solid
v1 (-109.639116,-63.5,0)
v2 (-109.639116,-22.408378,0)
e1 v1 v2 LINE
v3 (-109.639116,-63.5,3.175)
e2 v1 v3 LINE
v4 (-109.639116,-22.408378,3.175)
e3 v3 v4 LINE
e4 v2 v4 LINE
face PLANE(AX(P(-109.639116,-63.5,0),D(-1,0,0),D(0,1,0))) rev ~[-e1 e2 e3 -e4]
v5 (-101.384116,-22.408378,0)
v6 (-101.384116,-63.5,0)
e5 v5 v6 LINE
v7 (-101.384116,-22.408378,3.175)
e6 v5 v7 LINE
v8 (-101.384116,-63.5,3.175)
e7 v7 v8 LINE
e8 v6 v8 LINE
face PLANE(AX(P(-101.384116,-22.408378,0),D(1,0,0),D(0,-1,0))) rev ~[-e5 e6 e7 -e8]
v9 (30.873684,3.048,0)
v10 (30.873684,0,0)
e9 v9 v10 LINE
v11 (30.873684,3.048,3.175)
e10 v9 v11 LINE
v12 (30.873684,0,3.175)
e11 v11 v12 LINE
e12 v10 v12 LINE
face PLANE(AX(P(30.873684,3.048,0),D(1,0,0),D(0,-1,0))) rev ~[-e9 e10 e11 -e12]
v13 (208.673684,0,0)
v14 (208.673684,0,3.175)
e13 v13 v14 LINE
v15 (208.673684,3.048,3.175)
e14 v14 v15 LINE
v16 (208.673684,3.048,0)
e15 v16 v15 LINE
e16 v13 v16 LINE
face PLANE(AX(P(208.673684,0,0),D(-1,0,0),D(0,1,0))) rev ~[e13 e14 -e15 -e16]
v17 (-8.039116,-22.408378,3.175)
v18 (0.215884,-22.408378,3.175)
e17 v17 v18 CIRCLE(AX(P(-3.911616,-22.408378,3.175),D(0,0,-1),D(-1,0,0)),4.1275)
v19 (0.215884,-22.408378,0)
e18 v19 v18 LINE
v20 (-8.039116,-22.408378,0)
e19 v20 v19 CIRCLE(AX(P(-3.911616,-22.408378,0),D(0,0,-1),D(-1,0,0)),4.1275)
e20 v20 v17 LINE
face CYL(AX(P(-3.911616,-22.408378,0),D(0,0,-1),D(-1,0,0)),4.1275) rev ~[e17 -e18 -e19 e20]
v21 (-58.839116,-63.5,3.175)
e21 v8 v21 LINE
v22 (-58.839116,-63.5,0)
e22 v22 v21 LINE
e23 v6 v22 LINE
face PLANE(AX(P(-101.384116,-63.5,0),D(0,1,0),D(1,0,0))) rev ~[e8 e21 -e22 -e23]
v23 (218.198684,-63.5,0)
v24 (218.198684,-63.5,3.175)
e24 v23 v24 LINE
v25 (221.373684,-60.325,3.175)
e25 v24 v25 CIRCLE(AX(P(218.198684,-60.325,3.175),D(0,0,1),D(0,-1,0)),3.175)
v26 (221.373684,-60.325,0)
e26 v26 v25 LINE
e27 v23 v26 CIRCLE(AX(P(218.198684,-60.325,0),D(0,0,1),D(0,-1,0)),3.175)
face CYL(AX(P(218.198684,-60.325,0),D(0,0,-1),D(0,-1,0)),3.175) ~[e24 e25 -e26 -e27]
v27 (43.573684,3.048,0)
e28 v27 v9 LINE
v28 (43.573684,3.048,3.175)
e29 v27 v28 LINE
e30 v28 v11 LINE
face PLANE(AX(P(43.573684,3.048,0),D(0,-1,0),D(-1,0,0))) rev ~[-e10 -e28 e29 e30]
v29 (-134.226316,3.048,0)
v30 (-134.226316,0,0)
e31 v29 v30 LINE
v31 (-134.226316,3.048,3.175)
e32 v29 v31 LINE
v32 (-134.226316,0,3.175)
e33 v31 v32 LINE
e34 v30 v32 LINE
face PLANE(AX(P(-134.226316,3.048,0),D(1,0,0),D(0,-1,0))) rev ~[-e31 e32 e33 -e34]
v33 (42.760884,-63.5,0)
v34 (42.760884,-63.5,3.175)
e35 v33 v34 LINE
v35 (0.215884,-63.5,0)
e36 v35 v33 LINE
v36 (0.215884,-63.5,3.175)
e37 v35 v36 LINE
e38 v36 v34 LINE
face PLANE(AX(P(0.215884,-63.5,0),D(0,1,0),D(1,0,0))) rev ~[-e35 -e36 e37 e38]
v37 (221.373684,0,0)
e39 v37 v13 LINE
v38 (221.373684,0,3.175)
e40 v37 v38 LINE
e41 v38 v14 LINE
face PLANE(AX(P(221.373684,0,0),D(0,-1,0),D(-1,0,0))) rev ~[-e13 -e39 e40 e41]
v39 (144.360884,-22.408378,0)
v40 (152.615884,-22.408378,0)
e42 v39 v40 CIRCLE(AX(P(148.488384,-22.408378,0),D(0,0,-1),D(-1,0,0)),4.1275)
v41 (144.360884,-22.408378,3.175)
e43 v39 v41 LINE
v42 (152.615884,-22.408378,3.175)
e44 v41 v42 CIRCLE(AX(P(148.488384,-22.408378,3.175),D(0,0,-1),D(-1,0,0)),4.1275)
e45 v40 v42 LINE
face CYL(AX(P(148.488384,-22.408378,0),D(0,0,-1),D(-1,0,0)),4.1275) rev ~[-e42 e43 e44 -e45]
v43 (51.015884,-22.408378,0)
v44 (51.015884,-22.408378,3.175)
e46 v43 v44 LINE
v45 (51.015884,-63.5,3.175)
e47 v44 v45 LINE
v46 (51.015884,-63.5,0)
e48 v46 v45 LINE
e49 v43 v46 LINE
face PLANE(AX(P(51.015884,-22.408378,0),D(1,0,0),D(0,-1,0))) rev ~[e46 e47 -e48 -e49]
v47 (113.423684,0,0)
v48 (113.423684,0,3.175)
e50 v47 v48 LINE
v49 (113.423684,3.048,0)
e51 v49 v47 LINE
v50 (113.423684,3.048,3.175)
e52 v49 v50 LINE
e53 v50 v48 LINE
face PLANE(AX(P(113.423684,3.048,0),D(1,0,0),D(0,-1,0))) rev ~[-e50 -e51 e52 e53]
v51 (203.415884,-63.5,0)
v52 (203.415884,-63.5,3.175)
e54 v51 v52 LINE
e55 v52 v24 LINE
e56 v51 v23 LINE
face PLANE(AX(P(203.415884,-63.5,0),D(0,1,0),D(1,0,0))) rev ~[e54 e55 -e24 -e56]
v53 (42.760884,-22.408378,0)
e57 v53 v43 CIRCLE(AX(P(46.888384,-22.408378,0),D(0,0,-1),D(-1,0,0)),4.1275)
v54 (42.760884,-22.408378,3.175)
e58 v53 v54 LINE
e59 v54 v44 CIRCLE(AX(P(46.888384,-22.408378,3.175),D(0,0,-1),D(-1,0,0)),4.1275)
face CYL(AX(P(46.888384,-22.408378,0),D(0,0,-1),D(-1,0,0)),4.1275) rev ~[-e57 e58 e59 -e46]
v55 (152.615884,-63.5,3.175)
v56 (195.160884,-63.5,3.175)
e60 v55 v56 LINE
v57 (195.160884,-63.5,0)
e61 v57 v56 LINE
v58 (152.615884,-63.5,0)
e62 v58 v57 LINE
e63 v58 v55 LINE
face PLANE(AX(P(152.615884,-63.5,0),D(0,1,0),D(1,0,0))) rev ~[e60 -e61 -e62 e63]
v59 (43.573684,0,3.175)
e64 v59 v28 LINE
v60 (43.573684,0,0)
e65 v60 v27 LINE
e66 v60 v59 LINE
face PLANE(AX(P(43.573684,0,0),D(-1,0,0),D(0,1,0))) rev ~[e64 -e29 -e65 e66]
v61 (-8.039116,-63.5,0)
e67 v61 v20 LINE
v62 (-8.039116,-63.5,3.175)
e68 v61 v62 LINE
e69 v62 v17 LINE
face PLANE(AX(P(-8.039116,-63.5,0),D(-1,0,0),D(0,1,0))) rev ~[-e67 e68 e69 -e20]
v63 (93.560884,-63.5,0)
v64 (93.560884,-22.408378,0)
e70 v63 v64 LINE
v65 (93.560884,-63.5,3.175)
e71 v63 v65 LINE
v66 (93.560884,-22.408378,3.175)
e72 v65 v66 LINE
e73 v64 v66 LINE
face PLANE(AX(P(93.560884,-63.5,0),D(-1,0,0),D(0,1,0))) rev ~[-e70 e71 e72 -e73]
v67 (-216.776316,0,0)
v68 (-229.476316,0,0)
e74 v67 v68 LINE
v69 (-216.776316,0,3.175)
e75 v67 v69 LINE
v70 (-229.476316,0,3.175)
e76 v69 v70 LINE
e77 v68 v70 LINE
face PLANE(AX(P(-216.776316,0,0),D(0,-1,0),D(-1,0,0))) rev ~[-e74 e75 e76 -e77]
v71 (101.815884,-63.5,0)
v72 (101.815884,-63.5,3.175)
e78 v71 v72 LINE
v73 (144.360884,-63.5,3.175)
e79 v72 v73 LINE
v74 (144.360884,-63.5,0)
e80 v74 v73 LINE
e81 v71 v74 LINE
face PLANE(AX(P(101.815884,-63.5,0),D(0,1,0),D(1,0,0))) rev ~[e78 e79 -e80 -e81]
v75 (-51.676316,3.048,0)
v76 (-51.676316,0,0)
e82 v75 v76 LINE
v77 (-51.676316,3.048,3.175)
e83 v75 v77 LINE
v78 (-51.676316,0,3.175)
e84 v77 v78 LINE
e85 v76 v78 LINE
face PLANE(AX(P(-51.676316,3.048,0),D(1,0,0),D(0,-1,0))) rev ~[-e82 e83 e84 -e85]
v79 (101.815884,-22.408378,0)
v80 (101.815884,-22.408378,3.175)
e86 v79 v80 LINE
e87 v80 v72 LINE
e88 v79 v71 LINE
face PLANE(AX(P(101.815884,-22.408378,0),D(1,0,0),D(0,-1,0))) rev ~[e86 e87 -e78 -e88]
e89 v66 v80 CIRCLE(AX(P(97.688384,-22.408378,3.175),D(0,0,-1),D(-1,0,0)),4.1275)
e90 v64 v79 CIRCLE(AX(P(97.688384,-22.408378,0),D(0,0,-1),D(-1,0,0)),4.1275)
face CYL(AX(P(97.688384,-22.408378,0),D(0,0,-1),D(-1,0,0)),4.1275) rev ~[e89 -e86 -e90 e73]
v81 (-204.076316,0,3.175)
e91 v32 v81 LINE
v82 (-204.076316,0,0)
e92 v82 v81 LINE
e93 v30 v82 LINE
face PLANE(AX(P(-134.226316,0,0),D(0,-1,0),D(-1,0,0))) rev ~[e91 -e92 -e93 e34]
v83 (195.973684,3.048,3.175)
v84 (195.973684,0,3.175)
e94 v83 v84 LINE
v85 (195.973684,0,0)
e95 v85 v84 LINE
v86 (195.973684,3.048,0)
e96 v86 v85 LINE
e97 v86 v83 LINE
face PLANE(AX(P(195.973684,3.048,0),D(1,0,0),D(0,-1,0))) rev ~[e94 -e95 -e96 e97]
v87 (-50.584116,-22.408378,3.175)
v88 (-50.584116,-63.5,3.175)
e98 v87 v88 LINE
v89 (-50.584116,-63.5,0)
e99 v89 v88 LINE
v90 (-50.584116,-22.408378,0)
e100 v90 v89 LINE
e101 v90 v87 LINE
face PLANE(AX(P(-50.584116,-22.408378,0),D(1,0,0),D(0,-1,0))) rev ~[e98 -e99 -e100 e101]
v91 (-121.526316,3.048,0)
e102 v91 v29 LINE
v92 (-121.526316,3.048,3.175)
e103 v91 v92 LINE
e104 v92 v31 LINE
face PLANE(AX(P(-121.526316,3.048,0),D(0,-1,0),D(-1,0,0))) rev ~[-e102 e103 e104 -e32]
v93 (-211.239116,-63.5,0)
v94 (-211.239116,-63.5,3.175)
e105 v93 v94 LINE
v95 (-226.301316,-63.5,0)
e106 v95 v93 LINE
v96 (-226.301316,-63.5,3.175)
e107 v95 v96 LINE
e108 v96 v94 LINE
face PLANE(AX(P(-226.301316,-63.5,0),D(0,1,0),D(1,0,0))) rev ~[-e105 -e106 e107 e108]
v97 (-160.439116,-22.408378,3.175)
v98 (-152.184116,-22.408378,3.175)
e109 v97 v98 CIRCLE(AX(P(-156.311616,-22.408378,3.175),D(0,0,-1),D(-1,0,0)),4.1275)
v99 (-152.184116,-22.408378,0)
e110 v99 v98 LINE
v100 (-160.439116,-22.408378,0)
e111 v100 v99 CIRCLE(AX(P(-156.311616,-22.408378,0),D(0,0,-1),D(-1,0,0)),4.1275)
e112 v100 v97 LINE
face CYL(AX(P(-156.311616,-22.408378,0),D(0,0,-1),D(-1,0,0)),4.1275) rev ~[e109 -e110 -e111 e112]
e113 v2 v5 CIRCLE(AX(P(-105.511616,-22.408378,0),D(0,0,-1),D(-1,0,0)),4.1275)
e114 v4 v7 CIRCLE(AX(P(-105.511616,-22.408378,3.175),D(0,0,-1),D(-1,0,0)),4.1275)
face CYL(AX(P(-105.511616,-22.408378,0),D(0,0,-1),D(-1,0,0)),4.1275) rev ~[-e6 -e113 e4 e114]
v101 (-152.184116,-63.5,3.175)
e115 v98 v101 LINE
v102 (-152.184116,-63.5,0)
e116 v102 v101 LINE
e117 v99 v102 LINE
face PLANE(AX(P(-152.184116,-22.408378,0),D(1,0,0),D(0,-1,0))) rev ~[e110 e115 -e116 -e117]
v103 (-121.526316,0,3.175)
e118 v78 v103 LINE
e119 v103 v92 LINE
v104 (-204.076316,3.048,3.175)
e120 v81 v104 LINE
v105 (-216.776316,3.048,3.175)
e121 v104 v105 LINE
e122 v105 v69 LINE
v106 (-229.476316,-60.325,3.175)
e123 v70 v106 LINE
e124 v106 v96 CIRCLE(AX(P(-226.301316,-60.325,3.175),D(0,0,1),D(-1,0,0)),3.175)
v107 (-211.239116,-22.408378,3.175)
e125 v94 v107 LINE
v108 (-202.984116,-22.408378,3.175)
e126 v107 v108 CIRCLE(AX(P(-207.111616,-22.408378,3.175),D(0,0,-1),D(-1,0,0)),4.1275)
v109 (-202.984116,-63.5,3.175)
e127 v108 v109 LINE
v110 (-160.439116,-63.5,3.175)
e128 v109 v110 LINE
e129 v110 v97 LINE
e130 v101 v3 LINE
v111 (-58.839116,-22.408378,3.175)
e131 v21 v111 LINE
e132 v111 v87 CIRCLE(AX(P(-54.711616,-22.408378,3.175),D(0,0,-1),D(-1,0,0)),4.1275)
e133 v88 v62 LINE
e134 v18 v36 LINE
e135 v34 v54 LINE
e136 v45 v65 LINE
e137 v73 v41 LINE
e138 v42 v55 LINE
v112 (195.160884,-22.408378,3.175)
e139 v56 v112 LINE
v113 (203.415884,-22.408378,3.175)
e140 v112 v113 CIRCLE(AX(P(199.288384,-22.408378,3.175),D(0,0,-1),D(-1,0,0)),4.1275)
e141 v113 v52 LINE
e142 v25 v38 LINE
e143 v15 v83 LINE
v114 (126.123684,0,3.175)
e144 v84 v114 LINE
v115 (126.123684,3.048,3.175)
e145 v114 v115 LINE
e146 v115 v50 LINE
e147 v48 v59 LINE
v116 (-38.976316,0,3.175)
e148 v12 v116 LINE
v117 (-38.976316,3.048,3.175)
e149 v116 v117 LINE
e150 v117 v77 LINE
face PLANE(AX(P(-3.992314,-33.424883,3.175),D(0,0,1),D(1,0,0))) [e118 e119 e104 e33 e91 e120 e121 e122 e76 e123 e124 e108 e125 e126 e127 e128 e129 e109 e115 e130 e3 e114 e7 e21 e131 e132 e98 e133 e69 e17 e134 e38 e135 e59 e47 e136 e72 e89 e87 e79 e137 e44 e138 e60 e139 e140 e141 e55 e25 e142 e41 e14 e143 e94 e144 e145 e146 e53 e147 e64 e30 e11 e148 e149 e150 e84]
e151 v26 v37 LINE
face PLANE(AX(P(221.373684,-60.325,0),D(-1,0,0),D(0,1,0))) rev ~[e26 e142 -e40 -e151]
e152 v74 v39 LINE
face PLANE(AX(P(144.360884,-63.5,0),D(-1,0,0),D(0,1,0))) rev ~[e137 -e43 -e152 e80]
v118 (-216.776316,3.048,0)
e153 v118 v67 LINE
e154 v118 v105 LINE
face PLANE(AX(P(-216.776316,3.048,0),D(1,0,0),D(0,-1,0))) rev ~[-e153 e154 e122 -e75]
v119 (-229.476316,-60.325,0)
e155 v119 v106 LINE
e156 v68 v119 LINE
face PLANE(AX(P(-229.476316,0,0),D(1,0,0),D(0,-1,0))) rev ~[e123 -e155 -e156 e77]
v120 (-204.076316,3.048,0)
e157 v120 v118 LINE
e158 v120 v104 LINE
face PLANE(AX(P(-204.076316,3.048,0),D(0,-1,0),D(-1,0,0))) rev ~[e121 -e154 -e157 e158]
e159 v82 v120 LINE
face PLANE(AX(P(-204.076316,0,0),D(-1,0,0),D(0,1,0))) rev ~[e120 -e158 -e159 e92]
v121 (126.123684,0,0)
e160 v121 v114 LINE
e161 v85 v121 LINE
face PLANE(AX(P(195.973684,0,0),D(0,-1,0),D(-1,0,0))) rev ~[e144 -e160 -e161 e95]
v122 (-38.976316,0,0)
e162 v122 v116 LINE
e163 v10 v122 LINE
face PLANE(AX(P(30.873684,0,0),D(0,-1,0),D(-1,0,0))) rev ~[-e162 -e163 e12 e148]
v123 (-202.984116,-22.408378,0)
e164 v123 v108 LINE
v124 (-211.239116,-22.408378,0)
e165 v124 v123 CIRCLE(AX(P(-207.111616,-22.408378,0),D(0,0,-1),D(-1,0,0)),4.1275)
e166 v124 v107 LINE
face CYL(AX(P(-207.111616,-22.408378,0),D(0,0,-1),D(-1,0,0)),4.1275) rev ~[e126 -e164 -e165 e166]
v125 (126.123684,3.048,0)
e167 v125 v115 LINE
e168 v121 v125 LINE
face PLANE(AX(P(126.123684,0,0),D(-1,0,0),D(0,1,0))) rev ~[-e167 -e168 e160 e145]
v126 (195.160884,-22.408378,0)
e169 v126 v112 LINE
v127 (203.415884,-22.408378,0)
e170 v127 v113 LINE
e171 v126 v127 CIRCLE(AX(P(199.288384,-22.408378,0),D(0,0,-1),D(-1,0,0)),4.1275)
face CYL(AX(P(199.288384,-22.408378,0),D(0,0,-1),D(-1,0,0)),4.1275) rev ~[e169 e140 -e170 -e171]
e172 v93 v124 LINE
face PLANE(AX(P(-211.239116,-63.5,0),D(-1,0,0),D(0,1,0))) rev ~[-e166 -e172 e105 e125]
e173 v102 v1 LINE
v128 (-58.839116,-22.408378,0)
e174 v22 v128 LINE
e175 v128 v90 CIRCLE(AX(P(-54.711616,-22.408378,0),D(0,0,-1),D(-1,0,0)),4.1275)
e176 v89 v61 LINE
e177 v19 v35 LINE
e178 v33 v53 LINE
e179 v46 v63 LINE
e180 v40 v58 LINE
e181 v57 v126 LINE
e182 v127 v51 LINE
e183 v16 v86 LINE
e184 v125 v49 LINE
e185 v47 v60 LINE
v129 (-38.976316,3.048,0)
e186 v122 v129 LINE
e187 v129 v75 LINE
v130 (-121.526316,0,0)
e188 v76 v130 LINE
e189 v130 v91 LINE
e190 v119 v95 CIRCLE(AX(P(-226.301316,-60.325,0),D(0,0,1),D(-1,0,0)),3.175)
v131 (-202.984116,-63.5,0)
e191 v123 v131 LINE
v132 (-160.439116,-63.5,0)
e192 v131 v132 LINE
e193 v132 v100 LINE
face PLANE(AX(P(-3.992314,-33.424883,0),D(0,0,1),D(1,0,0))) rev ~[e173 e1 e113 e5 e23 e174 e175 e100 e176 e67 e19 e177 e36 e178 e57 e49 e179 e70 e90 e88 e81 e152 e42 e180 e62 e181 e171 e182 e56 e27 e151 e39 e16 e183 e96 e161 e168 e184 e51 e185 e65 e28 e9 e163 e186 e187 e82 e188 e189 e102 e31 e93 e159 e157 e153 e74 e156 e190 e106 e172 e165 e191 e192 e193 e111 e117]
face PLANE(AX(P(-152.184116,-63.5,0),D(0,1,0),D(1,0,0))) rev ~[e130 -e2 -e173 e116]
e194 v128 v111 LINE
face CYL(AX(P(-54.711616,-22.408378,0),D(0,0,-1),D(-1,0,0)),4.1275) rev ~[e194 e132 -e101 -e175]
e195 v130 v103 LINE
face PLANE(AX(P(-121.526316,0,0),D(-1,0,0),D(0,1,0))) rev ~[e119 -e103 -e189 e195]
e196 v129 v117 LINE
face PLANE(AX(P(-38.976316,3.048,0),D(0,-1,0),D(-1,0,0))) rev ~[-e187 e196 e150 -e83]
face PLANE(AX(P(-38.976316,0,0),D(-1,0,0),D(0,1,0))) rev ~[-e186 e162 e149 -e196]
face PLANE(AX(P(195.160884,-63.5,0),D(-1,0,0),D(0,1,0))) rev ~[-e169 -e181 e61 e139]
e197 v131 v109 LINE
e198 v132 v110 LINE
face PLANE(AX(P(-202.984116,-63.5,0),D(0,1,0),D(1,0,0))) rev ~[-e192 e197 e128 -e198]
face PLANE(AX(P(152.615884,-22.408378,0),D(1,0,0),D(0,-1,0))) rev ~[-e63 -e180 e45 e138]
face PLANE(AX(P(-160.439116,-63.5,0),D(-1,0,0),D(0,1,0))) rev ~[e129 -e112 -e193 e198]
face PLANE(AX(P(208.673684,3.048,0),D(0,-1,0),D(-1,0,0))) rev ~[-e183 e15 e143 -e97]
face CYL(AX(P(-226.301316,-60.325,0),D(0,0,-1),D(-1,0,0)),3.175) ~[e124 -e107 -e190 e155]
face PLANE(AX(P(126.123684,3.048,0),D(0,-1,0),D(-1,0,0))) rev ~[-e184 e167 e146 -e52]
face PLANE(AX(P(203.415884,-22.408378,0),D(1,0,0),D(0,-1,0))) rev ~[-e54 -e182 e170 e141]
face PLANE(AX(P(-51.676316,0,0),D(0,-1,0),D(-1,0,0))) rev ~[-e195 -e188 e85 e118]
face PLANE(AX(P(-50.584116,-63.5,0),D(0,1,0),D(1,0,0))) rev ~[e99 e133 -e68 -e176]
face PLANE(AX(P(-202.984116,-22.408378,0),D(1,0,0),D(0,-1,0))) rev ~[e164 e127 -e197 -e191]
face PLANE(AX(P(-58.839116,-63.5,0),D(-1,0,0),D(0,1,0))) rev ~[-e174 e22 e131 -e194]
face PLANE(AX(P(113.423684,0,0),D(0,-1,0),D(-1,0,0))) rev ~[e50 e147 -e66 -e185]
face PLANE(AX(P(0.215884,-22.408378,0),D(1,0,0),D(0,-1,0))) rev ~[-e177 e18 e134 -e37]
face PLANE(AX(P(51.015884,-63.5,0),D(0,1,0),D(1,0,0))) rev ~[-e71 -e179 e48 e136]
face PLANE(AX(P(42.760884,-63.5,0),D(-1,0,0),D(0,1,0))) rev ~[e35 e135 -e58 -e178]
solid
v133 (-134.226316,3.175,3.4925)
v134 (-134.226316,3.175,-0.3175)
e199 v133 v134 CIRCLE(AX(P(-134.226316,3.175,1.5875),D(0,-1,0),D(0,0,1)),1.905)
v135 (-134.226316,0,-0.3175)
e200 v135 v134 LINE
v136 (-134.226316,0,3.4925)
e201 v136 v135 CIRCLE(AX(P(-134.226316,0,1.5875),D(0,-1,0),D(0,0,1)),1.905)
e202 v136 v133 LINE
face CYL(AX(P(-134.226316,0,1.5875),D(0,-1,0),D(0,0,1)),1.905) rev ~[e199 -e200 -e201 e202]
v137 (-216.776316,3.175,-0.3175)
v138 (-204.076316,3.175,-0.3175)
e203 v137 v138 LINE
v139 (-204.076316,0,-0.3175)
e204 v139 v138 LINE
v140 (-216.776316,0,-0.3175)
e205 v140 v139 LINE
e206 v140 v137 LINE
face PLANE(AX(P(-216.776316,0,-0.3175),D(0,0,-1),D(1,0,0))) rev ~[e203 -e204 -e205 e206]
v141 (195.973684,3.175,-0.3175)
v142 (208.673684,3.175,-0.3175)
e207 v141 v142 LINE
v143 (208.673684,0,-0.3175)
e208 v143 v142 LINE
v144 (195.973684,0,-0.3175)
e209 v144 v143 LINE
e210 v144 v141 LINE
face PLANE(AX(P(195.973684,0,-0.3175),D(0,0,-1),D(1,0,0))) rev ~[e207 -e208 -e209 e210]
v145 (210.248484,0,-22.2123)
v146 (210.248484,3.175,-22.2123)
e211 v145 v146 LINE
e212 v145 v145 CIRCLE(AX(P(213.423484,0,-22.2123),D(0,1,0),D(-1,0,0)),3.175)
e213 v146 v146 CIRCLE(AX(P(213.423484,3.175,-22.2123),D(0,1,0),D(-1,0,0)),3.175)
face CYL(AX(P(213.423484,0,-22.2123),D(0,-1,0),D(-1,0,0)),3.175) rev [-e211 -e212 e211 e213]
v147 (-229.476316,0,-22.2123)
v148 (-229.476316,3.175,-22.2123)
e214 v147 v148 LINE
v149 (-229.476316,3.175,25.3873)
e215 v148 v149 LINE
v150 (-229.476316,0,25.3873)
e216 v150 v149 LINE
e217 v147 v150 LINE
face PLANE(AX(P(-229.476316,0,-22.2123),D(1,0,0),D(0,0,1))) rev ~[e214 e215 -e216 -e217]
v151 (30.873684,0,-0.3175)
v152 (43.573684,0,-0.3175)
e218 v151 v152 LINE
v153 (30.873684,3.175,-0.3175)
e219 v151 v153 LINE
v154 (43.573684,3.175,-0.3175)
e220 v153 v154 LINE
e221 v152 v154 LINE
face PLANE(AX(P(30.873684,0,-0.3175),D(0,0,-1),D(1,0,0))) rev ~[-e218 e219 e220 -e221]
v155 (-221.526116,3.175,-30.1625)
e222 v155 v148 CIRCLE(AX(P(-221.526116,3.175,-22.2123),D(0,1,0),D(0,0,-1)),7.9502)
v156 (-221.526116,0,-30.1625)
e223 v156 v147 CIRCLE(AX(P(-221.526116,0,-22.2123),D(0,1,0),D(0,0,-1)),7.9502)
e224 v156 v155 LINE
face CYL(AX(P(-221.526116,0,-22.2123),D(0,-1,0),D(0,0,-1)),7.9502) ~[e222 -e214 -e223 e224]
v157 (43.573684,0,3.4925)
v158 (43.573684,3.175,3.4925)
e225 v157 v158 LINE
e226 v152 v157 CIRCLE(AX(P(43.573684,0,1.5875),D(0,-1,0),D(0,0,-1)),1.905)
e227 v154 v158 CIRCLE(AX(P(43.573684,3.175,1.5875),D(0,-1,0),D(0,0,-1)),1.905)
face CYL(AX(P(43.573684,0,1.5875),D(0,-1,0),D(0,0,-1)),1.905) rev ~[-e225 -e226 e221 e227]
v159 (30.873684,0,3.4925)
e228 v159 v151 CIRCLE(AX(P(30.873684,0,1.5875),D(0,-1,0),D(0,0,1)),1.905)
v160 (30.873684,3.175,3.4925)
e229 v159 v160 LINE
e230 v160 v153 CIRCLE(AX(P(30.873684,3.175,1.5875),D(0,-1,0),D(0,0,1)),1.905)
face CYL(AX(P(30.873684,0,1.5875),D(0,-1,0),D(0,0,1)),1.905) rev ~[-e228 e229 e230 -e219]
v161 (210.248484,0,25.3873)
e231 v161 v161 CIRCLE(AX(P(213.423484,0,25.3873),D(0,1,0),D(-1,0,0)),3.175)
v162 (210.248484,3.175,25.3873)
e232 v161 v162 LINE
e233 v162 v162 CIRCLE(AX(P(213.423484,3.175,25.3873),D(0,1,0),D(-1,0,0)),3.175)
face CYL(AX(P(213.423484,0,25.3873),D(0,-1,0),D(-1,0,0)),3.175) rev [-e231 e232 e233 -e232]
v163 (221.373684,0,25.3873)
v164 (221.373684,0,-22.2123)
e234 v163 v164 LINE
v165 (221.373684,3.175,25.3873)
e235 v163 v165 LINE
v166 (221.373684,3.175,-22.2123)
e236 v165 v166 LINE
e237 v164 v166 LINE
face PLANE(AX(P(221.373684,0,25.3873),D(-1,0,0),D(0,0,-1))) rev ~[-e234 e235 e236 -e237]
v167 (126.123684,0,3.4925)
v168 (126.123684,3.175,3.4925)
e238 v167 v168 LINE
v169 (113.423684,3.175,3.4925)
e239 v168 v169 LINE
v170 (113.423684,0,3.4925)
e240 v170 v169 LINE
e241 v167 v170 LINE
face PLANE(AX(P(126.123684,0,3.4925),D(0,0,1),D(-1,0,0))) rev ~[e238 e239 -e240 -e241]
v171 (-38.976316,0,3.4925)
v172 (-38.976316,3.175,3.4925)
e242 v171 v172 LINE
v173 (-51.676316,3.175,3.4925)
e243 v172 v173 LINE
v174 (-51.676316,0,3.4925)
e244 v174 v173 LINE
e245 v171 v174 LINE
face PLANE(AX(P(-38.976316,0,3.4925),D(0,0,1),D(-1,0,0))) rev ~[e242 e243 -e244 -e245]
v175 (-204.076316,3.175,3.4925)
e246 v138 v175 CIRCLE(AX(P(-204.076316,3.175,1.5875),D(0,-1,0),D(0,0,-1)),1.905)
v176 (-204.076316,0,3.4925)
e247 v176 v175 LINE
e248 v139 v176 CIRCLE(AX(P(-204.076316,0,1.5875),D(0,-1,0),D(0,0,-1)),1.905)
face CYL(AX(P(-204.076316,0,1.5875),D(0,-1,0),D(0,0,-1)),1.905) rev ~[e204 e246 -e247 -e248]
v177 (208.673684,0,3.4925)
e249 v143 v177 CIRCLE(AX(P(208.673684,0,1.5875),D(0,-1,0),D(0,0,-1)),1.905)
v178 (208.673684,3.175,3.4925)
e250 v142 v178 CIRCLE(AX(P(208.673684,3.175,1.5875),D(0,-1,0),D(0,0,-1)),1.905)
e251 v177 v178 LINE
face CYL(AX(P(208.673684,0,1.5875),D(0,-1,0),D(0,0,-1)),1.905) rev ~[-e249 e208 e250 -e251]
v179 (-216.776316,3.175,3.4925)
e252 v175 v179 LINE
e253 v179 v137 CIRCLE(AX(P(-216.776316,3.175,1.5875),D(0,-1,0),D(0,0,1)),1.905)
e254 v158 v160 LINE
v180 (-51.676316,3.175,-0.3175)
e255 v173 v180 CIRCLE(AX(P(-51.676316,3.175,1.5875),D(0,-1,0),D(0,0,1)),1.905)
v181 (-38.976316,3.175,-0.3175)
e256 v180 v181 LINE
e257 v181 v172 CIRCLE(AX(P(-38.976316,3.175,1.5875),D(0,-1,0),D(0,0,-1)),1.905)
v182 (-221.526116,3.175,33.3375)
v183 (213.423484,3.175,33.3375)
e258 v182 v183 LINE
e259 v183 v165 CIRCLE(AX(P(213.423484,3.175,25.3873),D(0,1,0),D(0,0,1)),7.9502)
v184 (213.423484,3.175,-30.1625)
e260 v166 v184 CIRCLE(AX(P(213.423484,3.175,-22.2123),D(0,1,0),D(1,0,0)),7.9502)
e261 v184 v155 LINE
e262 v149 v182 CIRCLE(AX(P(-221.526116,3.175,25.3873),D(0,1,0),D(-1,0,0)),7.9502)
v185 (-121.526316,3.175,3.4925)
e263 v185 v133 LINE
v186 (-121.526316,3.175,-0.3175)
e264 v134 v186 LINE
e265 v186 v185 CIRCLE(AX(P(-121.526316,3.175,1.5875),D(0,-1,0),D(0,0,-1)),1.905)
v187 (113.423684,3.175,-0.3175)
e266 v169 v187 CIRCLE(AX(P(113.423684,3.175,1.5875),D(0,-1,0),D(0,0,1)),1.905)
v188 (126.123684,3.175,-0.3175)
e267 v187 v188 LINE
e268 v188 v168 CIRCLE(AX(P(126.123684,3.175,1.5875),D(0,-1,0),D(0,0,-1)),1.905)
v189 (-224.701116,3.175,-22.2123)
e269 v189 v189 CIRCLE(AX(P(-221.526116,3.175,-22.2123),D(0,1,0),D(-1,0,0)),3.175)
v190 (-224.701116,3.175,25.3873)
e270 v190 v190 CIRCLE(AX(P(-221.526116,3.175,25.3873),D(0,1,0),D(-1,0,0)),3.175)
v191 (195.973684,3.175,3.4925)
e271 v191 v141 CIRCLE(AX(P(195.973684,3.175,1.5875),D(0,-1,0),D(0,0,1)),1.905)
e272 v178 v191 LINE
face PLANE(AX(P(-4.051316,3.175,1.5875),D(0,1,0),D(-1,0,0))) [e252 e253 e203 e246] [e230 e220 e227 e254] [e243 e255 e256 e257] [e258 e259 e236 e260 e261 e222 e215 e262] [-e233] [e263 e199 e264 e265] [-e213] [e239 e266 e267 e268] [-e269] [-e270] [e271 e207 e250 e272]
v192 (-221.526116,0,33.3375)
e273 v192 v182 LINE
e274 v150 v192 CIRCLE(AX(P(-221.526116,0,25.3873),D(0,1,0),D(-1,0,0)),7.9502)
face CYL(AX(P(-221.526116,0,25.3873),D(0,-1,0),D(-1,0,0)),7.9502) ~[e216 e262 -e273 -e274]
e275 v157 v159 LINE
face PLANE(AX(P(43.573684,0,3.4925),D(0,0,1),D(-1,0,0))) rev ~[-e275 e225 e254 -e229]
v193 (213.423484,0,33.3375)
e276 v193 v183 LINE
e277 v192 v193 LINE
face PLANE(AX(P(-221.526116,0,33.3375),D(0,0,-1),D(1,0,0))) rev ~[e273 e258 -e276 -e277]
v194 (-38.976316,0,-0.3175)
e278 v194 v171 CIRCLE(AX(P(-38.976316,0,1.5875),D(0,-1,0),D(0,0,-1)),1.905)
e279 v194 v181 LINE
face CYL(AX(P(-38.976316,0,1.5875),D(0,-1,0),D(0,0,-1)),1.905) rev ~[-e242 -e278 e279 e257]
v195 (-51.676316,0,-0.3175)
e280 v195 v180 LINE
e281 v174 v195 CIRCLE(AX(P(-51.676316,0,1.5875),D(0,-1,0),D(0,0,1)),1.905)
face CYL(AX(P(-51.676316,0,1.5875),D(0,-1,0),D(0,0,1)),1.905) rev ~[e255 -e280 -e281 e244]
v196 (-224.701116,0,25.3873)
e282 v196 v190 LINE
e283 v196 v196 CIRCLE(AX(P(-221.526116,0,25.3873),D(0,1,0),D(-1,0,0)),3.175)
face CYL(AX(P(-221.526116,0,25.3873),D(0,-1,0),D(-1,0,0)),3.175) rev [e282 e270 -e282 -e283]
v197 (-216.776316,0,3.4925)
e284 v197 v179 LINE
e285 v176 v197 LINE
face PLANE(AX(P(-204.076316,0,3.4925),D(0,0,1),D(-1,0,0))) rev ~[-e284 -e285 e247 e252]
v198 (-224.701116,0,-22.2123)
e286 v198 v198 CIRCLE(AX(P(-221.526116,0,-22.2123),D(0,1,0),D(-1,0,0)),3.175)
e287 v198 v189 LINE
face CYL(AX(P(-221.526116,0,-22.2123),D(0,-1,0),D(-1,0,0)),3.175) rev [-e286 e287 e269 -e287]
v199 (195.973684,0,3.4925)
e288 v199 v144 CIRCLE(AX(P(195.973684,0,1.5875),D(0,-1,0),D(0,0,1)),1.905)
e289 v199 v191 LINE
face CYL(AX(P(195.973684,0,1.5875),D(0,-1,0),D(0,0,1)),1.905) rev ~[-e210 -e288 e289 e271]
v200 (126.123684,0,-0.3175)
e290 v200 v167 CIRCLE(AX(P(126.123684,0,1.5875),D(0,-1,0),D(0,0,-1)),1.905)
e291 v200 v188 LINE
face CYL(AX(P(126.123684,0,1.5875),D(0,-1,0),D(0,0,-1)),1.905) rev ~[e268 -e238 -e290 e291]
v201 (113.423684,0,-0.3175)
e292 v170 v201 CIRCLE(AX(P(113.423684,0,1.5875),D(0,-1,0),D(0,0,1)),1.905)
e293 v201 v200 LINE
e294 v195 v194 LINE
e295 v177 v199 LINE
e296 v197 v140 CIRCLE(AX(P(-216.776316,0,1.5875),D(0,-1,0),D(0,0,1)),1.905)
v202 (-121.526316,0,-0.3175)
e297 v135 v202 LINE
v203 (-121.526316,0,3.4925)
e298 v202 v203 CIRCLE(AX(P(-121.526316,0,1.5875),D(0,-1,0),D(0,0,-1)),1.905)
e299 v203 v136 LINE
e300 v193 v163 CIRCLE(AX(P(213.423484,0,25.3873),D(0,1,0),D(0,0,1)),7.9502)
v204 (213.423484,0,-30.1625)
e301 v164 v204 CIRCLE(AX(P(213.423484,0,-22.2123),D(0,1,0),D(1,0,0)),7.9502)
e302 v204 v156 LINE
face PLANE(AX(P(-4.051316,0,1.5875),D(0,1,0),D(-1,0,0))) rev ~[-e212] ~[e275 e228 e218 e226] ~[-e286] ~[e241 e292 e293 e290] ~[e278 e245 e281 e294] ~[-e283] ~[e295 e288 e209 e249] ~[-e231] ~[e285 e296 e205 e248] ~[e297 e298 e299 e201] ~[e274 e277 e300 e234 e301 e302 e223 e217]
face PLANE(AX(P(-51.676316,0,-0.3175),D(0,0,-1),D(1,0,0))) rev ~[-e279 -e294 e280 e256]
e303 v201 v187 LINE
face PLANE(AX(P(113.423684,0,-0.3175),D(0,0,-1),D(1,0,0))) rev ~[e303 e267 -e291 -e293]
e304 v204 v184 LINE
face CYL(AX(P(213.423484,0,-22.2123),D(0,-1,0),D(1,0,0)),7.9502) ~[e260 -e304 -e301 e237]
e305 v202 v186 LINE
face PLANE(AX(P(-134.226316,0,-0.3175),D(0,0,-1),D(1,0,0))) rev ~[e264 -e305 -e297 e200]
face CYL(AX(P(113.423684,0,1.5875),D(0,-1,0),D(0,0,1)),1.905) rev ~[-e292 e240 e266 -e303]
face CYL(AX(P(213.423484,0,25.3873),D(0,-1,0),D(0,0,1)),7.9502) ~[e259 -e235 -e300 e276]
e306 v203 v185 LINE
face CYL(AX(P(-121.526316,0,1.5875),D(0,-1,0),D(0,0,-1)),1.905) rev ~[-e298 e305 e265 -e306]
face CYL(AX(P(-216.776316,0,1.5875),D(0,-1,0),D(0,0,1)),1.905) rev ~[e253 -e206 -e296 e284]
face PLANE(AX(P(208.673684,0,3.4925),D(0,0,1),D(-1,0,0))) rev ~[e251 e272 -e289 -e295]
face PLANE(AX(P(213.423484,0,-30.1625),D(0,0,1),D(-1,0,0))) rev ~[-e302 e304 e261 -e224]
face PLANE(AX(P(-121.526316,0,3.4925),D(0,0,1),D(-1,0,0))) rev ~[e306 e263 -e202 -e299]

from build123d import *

# Parameters (mm, degrees)
F1_DEPTH = 3.175
F2_R     = 3.175
F3_DEPTH = 3.175


with BuildPart() as f1:
    # F0 (on Top) → F1 (new body)
    with BuildSketch(Plane.XY):
        with BuildLine():
            Line((-216.7763156652, 0), (-229.4763156652, 0))
            Line((-229.4763156652, 0), (-229.4763156652, -60.325))
            ThreePointArc((-229.4763156652, -60.325), (-228.5463796955, -62.5700640303), (-226.3013156652, -63.5))
            Line((-226.3013156652, -63.5), (-211.2391156652, -63.5))
            Line((-211.2391156652, -63.5), (-211.2391156652, -22.4083778501))
            ThreePointArc((-211.2391156652, -22.4083778501), (-207.1116156652, -18.2808778501), (-202.9841156652, -22.4083778501))
            Line((-202.9841156652, -22.4083778501), (-202.9841156652, -63.5))
            Line((-202.9841156652, -63.5), (-160.4391156652, -63.5))
            Line((-160.4391156652, -63.5), (-160.4391156652, -22.4083778501))
            ThreePointArc((-160.4391156652, -22.4083778501), (-156.3116156652, -18.2808778501), (-152.1841156652, -22.4083778501))
            Line((-152.1841156652, -22.4083778501), (-152.1841156652, -63.5))
            Line((-152.1841156652, -63.5), (-109.6391156652, -63.5))
            Line((-109.6391156652, -63.5), (-109.6391156652, -22.4083778501))
            ThreePointArc((-109.6391156652, -22.4083778501), (-105.5116156652, -18.2808778501), (-101.3841156652, -22.4083778501))
            Line((-101.3841156652, -22.4083778501), (-101.3841156652, -63.5))
            Line((-101.3841156652, -63.5), (-58.8391156652, -63.5))
            Line((-58.8391156652, -63.5), (-58.8391156652, -22.4083778501))
            ThreePointArc((-58.8391156652, -22.4083778501), (-54.7116156652, -18.2808778501), (-50.5841156652, -22.4083778501))
            Line((-50.5841156652, -22.4083778501), (-50.5841156652, -63.5))
            Line((-50.5841156652, -63.5), (-8.0391156652, -63.5))
            Line((-8.0391156652, -63.5), (-8.0391156652, -22.4083778501))
            ThreePointArc((-8.0391156652, -22.4083778501), (-3.9116156652, -18.2808778501), (0.2158843348, -22.4083778501))
            Line((0.2158843348, -22.4083778501), (0.2158843348, -63.5))
            Line((0.2158843348, -63.5), (42.7608843348, -63.5))
            Line((42.7608843348, -63.5), (42.7608843348, -22.4083778501))
            ThreePointArc((42.7608843348, -22.4083778501), (46.8883843348, -18.2808778501), (51.0158843348, -22.4083778501))
            Line((51.0158843348, -22.4083778501), (51.0158843348, -63.5))
            Line((51.0158843348, -63.5), (93.5608843348, -63.5))
            Line((93.5608843348, -63.5), (93.5608843348, -22.4083778501))
            ThreePointArc((93.5608843348, -22.4083778501), (97.6883843348, -18.2808778501), (101.8158843348, -22.4083778501))
            Line((101.8158843348, -22.4083778501), (101.8158843348, -63.5))
            Line((101.8158843348, -63.5), (144.3608843348, -63.5))
            Line((144.3608843348, -63.5), (144.3608843348, -22.4083778501))
            ThreePointArc((144.3608843348, -22.4083778501), (148.4883843348, -18.2808778501), (152.6158843348, -22.4083778501))
            Line((152.6158843348, -22.4083778501), (152.6158843348, -63.5))
            Line((152.6158843348, -63.5), (195.1608843348, -63.5))
            Line((195.1608843348, -63.5), (195.1608843348, -22.4083778501))
            ThreePointArc((195.1608843348, -22.4083778501), (199.2883843348, -18.2808778501), (203.4158843348, -22.4083778501))
            Line((203.4158843348, -22.4083778501), (203.4158843348, -63.5))
            Line((203.4158843348, -63.5), (218.1986843348, -63.5))
            ThreePointArc((218.1986843348, -63.5), (220.443748365, -62.5700640303), (221.3736843348, -60.325))
            Line((221.3736843348, -60.325), (221.3736843348, 0))
            Line((221.3736843348, 0), (208.6736843348, 0))
            Line((208.6736843348, 0), (208.6736843348, 3.048))
            Line((208.6736843348, 3.048), (195.9736843348, 3.048))
            Line((195.9736843348, 3.048), (195.9736843348, 0))
            Line((195.9736843348, 0), (126.1236843348, 0))
            Line((126.1236843348, 0), (126.1236843348, 3.048))
            Line((126.1236843348, 3.048), (113.4236843348, 3.048))
            Line((113.4236843348, 3.048), (113.4236843348, 0))
            Line((113.4236843348, 0), (43.5736843348, 0))
            Line((43.5736843348, 0), (43.5736843348, 3.048))
            Line((43.5736843348, 3.048), (30.8736843348, 3.048))
            Line((30.8736843348, 3.048), (30.8736843348, 0))
            Line((30.8736843348, 0), (-38.9763156652, 0))
            Line((-38.9763156652, 0), (-38.9763156652, 3.048))
            Line((-38.9763156652, 3.048), (-51.6763156652, 3.048))
            Line((-51.6763156652, 3.048), (-51.6763156652, 0))
            Line((-51.6763156652, 0), (-121.5263156652, 0))
            Line((-121.5263156652, 0), (-121.5263156652, 3.048))
            Line((-121.5263156652, 3.048), (-134.2263156652, 3.048))
            Line((-134.2263156652, 3.048), (-134.2263156652, 0))
            Line((-134.2263156652, 0), (-204.0763156652, 0))
            Line((-204.0763156652, 0), (-204.0763156652, 3.048))
            Line((-204.0763156652, 3.048), (-216.7763156652, 3.048))
            Line((-216.7763156652, 3.048), (-216.7763156652, 0))
        make_face()
    extrude(amount=F1_DEPTH)


with BuildPart() as f3:
    # F2 (on face) → F3 (new body)
    with BuildSketch(Plane(origin=(0, 0, 0), x_dir=(-1, 0, 0), z_dir=(0, 1, 0))):
        with BuildLine():
            ThreePointArc((-221.3736843348, -22.2123), (-219.0451246665, -27.8339403318), (-213.4234843348, -30.1625))
            Line((-213.4234843348, -30.1625), (221.5261156652, -30.1625))
            ThreePointArc((221.5261156652, -30.1625), (227.147755997, -27.8339403318), (229.4763156652, -22.2123))
            Line((229.4763156652, -22.2123), (229.4763156652, 25.3873))
            ThreePointArc((229.4763156652, 25.3873), (227.147755997, 31.0089403318), (221.5261156652, 33.3375))
            Line((221.5261156652, 33.3375), (-213.4234843348, 33.3375))
            ThreePointArc((-213.4234843348, 33.3375), (-219.0451246665, 31.0089403318), (-221.3736843348, 25.3873))
            Line((-221.3736843348, 25.3873), (-221.3736843348, -22.2123))
        make_face()
        with Locations((-213.4234843348, -22.2123)):
            Circle(F2_R, mode=Mode.SUBTRACT)
        with Locations((221.5261156652, -22.2123)):
            Circle(F2_R, mode=Mode.SUBTRACT)
        with BuildLine():
            Line((-208.6736843348, 3.4925), (-195.9736843348, 3.4925))
            ThreePointArc((-195.9736843348, 3.4925), (-194.0686843348, 1.5875), (-195.9736843348, -0.3175))
            Line((-195.9736843348, -0.3175), (-208.6736843348, -0.3175))
            ThreePointArc((-208.6736843348, -0.3175), (-210.5786843348, 1.5875), (-208.6736843348, 3.4925))
        make_face(mode=Mode.SUBTRACT)
        with BuildLine():
            Line((-126.1236843348, 3.4925), (-113.4236843348, 3.4925))
            ThreePointArc((-113.4236843348, 3.4925), (-111.5186843348, 1.5875), (-113.4236843348, -0.3175))
            Line((-113.4236843348, -0.3175), (-126.1236843348, -0.3175))
            ThreePointArc((-126.1236843348, -0.3175), (-128.0286843348, 1.5875), (-126.1236843348, 3.4925))
        make_face(mode=Mode.SUBTRACT)
        with BuildLine():
            Line((-43.5736843348, 3.4925), (-30.8736843348, 3.4925))
            ThreePointArc((-30.8736843348, 3.4925), (-28.9686843348, 1.5875), (-30.8736843348, -0.3175))
            Line((-30.8736843348, -0.3175), (-43.5736843348, -0.3175))
            ThreePointArc((-43.5736843348, -0.3175), (-45.4786843348, 1.5875), (-43.5736843348, 3.4925))
        make_face(mode=Mode.SUBTRACT)
        with Locations((-213.4234843348, 25.3873)):
            Circle(F2_R, mode=Mode.SUBTRACT)
        with BuildLine():
            Line((38.9763156652, 3.4925), (51.6763156652, 3.4925))
            ThreePointArc((51.6763156652, 3.4925), (53.5813156652, 1.5875), (51.6763156652, -0.3175))
            Line((51.6763156652, -0.3175), (38.9763156652, -0.3175))
            ThreePointArc((38.9763156652, -0.3175), (37.0713156652, 1.5875), (38.9763156652, 3.4925))
        make_face(mode=Mode.SUBTRACT)
        with BuildLine():
            Line((121.5263156652, 3.4925), (134.2263156652, 3.4925))
            ThreePointArc((134.2263156652, 3.4925), (136.1313156652, 1.5875), (134.2263156652, -0.3175))
            Line((134.2263156652, -0.3175), (121.5263156652, -0.3175))
            ThreePointArc((121.5263156652, -0.3175), (119.6213156652, 1.5875), (121.5263156652, 3.4925))
        make_face(mode=Mode.SUBTRACT)
        with BuildLine():
            Line((204.0763156652, 3.4925), (216.7763156652, 3.4925))
            ThreePointArc((216.7763156652, 3.4925), (218.6813156652, 1.5875), (216.7763156652, -0.3175))
            Line((216.7763156652, -0.3175), (204.0763156652, -0.3175))
            ThreePointArc((204.0763156652, -0.3175), (202.1713156652, 1.5875), (204.0763156652, 3.4925))
        make_face(mode=Mode.SUBTRACT)
        with Locations((221.5261156652, 25.3873)):
            Circle(F2_R, mode=Mode.SUBTRACT)
    extrude(amount=F3_DEPTH)


solid = Compound([f1.part, f3.part])
